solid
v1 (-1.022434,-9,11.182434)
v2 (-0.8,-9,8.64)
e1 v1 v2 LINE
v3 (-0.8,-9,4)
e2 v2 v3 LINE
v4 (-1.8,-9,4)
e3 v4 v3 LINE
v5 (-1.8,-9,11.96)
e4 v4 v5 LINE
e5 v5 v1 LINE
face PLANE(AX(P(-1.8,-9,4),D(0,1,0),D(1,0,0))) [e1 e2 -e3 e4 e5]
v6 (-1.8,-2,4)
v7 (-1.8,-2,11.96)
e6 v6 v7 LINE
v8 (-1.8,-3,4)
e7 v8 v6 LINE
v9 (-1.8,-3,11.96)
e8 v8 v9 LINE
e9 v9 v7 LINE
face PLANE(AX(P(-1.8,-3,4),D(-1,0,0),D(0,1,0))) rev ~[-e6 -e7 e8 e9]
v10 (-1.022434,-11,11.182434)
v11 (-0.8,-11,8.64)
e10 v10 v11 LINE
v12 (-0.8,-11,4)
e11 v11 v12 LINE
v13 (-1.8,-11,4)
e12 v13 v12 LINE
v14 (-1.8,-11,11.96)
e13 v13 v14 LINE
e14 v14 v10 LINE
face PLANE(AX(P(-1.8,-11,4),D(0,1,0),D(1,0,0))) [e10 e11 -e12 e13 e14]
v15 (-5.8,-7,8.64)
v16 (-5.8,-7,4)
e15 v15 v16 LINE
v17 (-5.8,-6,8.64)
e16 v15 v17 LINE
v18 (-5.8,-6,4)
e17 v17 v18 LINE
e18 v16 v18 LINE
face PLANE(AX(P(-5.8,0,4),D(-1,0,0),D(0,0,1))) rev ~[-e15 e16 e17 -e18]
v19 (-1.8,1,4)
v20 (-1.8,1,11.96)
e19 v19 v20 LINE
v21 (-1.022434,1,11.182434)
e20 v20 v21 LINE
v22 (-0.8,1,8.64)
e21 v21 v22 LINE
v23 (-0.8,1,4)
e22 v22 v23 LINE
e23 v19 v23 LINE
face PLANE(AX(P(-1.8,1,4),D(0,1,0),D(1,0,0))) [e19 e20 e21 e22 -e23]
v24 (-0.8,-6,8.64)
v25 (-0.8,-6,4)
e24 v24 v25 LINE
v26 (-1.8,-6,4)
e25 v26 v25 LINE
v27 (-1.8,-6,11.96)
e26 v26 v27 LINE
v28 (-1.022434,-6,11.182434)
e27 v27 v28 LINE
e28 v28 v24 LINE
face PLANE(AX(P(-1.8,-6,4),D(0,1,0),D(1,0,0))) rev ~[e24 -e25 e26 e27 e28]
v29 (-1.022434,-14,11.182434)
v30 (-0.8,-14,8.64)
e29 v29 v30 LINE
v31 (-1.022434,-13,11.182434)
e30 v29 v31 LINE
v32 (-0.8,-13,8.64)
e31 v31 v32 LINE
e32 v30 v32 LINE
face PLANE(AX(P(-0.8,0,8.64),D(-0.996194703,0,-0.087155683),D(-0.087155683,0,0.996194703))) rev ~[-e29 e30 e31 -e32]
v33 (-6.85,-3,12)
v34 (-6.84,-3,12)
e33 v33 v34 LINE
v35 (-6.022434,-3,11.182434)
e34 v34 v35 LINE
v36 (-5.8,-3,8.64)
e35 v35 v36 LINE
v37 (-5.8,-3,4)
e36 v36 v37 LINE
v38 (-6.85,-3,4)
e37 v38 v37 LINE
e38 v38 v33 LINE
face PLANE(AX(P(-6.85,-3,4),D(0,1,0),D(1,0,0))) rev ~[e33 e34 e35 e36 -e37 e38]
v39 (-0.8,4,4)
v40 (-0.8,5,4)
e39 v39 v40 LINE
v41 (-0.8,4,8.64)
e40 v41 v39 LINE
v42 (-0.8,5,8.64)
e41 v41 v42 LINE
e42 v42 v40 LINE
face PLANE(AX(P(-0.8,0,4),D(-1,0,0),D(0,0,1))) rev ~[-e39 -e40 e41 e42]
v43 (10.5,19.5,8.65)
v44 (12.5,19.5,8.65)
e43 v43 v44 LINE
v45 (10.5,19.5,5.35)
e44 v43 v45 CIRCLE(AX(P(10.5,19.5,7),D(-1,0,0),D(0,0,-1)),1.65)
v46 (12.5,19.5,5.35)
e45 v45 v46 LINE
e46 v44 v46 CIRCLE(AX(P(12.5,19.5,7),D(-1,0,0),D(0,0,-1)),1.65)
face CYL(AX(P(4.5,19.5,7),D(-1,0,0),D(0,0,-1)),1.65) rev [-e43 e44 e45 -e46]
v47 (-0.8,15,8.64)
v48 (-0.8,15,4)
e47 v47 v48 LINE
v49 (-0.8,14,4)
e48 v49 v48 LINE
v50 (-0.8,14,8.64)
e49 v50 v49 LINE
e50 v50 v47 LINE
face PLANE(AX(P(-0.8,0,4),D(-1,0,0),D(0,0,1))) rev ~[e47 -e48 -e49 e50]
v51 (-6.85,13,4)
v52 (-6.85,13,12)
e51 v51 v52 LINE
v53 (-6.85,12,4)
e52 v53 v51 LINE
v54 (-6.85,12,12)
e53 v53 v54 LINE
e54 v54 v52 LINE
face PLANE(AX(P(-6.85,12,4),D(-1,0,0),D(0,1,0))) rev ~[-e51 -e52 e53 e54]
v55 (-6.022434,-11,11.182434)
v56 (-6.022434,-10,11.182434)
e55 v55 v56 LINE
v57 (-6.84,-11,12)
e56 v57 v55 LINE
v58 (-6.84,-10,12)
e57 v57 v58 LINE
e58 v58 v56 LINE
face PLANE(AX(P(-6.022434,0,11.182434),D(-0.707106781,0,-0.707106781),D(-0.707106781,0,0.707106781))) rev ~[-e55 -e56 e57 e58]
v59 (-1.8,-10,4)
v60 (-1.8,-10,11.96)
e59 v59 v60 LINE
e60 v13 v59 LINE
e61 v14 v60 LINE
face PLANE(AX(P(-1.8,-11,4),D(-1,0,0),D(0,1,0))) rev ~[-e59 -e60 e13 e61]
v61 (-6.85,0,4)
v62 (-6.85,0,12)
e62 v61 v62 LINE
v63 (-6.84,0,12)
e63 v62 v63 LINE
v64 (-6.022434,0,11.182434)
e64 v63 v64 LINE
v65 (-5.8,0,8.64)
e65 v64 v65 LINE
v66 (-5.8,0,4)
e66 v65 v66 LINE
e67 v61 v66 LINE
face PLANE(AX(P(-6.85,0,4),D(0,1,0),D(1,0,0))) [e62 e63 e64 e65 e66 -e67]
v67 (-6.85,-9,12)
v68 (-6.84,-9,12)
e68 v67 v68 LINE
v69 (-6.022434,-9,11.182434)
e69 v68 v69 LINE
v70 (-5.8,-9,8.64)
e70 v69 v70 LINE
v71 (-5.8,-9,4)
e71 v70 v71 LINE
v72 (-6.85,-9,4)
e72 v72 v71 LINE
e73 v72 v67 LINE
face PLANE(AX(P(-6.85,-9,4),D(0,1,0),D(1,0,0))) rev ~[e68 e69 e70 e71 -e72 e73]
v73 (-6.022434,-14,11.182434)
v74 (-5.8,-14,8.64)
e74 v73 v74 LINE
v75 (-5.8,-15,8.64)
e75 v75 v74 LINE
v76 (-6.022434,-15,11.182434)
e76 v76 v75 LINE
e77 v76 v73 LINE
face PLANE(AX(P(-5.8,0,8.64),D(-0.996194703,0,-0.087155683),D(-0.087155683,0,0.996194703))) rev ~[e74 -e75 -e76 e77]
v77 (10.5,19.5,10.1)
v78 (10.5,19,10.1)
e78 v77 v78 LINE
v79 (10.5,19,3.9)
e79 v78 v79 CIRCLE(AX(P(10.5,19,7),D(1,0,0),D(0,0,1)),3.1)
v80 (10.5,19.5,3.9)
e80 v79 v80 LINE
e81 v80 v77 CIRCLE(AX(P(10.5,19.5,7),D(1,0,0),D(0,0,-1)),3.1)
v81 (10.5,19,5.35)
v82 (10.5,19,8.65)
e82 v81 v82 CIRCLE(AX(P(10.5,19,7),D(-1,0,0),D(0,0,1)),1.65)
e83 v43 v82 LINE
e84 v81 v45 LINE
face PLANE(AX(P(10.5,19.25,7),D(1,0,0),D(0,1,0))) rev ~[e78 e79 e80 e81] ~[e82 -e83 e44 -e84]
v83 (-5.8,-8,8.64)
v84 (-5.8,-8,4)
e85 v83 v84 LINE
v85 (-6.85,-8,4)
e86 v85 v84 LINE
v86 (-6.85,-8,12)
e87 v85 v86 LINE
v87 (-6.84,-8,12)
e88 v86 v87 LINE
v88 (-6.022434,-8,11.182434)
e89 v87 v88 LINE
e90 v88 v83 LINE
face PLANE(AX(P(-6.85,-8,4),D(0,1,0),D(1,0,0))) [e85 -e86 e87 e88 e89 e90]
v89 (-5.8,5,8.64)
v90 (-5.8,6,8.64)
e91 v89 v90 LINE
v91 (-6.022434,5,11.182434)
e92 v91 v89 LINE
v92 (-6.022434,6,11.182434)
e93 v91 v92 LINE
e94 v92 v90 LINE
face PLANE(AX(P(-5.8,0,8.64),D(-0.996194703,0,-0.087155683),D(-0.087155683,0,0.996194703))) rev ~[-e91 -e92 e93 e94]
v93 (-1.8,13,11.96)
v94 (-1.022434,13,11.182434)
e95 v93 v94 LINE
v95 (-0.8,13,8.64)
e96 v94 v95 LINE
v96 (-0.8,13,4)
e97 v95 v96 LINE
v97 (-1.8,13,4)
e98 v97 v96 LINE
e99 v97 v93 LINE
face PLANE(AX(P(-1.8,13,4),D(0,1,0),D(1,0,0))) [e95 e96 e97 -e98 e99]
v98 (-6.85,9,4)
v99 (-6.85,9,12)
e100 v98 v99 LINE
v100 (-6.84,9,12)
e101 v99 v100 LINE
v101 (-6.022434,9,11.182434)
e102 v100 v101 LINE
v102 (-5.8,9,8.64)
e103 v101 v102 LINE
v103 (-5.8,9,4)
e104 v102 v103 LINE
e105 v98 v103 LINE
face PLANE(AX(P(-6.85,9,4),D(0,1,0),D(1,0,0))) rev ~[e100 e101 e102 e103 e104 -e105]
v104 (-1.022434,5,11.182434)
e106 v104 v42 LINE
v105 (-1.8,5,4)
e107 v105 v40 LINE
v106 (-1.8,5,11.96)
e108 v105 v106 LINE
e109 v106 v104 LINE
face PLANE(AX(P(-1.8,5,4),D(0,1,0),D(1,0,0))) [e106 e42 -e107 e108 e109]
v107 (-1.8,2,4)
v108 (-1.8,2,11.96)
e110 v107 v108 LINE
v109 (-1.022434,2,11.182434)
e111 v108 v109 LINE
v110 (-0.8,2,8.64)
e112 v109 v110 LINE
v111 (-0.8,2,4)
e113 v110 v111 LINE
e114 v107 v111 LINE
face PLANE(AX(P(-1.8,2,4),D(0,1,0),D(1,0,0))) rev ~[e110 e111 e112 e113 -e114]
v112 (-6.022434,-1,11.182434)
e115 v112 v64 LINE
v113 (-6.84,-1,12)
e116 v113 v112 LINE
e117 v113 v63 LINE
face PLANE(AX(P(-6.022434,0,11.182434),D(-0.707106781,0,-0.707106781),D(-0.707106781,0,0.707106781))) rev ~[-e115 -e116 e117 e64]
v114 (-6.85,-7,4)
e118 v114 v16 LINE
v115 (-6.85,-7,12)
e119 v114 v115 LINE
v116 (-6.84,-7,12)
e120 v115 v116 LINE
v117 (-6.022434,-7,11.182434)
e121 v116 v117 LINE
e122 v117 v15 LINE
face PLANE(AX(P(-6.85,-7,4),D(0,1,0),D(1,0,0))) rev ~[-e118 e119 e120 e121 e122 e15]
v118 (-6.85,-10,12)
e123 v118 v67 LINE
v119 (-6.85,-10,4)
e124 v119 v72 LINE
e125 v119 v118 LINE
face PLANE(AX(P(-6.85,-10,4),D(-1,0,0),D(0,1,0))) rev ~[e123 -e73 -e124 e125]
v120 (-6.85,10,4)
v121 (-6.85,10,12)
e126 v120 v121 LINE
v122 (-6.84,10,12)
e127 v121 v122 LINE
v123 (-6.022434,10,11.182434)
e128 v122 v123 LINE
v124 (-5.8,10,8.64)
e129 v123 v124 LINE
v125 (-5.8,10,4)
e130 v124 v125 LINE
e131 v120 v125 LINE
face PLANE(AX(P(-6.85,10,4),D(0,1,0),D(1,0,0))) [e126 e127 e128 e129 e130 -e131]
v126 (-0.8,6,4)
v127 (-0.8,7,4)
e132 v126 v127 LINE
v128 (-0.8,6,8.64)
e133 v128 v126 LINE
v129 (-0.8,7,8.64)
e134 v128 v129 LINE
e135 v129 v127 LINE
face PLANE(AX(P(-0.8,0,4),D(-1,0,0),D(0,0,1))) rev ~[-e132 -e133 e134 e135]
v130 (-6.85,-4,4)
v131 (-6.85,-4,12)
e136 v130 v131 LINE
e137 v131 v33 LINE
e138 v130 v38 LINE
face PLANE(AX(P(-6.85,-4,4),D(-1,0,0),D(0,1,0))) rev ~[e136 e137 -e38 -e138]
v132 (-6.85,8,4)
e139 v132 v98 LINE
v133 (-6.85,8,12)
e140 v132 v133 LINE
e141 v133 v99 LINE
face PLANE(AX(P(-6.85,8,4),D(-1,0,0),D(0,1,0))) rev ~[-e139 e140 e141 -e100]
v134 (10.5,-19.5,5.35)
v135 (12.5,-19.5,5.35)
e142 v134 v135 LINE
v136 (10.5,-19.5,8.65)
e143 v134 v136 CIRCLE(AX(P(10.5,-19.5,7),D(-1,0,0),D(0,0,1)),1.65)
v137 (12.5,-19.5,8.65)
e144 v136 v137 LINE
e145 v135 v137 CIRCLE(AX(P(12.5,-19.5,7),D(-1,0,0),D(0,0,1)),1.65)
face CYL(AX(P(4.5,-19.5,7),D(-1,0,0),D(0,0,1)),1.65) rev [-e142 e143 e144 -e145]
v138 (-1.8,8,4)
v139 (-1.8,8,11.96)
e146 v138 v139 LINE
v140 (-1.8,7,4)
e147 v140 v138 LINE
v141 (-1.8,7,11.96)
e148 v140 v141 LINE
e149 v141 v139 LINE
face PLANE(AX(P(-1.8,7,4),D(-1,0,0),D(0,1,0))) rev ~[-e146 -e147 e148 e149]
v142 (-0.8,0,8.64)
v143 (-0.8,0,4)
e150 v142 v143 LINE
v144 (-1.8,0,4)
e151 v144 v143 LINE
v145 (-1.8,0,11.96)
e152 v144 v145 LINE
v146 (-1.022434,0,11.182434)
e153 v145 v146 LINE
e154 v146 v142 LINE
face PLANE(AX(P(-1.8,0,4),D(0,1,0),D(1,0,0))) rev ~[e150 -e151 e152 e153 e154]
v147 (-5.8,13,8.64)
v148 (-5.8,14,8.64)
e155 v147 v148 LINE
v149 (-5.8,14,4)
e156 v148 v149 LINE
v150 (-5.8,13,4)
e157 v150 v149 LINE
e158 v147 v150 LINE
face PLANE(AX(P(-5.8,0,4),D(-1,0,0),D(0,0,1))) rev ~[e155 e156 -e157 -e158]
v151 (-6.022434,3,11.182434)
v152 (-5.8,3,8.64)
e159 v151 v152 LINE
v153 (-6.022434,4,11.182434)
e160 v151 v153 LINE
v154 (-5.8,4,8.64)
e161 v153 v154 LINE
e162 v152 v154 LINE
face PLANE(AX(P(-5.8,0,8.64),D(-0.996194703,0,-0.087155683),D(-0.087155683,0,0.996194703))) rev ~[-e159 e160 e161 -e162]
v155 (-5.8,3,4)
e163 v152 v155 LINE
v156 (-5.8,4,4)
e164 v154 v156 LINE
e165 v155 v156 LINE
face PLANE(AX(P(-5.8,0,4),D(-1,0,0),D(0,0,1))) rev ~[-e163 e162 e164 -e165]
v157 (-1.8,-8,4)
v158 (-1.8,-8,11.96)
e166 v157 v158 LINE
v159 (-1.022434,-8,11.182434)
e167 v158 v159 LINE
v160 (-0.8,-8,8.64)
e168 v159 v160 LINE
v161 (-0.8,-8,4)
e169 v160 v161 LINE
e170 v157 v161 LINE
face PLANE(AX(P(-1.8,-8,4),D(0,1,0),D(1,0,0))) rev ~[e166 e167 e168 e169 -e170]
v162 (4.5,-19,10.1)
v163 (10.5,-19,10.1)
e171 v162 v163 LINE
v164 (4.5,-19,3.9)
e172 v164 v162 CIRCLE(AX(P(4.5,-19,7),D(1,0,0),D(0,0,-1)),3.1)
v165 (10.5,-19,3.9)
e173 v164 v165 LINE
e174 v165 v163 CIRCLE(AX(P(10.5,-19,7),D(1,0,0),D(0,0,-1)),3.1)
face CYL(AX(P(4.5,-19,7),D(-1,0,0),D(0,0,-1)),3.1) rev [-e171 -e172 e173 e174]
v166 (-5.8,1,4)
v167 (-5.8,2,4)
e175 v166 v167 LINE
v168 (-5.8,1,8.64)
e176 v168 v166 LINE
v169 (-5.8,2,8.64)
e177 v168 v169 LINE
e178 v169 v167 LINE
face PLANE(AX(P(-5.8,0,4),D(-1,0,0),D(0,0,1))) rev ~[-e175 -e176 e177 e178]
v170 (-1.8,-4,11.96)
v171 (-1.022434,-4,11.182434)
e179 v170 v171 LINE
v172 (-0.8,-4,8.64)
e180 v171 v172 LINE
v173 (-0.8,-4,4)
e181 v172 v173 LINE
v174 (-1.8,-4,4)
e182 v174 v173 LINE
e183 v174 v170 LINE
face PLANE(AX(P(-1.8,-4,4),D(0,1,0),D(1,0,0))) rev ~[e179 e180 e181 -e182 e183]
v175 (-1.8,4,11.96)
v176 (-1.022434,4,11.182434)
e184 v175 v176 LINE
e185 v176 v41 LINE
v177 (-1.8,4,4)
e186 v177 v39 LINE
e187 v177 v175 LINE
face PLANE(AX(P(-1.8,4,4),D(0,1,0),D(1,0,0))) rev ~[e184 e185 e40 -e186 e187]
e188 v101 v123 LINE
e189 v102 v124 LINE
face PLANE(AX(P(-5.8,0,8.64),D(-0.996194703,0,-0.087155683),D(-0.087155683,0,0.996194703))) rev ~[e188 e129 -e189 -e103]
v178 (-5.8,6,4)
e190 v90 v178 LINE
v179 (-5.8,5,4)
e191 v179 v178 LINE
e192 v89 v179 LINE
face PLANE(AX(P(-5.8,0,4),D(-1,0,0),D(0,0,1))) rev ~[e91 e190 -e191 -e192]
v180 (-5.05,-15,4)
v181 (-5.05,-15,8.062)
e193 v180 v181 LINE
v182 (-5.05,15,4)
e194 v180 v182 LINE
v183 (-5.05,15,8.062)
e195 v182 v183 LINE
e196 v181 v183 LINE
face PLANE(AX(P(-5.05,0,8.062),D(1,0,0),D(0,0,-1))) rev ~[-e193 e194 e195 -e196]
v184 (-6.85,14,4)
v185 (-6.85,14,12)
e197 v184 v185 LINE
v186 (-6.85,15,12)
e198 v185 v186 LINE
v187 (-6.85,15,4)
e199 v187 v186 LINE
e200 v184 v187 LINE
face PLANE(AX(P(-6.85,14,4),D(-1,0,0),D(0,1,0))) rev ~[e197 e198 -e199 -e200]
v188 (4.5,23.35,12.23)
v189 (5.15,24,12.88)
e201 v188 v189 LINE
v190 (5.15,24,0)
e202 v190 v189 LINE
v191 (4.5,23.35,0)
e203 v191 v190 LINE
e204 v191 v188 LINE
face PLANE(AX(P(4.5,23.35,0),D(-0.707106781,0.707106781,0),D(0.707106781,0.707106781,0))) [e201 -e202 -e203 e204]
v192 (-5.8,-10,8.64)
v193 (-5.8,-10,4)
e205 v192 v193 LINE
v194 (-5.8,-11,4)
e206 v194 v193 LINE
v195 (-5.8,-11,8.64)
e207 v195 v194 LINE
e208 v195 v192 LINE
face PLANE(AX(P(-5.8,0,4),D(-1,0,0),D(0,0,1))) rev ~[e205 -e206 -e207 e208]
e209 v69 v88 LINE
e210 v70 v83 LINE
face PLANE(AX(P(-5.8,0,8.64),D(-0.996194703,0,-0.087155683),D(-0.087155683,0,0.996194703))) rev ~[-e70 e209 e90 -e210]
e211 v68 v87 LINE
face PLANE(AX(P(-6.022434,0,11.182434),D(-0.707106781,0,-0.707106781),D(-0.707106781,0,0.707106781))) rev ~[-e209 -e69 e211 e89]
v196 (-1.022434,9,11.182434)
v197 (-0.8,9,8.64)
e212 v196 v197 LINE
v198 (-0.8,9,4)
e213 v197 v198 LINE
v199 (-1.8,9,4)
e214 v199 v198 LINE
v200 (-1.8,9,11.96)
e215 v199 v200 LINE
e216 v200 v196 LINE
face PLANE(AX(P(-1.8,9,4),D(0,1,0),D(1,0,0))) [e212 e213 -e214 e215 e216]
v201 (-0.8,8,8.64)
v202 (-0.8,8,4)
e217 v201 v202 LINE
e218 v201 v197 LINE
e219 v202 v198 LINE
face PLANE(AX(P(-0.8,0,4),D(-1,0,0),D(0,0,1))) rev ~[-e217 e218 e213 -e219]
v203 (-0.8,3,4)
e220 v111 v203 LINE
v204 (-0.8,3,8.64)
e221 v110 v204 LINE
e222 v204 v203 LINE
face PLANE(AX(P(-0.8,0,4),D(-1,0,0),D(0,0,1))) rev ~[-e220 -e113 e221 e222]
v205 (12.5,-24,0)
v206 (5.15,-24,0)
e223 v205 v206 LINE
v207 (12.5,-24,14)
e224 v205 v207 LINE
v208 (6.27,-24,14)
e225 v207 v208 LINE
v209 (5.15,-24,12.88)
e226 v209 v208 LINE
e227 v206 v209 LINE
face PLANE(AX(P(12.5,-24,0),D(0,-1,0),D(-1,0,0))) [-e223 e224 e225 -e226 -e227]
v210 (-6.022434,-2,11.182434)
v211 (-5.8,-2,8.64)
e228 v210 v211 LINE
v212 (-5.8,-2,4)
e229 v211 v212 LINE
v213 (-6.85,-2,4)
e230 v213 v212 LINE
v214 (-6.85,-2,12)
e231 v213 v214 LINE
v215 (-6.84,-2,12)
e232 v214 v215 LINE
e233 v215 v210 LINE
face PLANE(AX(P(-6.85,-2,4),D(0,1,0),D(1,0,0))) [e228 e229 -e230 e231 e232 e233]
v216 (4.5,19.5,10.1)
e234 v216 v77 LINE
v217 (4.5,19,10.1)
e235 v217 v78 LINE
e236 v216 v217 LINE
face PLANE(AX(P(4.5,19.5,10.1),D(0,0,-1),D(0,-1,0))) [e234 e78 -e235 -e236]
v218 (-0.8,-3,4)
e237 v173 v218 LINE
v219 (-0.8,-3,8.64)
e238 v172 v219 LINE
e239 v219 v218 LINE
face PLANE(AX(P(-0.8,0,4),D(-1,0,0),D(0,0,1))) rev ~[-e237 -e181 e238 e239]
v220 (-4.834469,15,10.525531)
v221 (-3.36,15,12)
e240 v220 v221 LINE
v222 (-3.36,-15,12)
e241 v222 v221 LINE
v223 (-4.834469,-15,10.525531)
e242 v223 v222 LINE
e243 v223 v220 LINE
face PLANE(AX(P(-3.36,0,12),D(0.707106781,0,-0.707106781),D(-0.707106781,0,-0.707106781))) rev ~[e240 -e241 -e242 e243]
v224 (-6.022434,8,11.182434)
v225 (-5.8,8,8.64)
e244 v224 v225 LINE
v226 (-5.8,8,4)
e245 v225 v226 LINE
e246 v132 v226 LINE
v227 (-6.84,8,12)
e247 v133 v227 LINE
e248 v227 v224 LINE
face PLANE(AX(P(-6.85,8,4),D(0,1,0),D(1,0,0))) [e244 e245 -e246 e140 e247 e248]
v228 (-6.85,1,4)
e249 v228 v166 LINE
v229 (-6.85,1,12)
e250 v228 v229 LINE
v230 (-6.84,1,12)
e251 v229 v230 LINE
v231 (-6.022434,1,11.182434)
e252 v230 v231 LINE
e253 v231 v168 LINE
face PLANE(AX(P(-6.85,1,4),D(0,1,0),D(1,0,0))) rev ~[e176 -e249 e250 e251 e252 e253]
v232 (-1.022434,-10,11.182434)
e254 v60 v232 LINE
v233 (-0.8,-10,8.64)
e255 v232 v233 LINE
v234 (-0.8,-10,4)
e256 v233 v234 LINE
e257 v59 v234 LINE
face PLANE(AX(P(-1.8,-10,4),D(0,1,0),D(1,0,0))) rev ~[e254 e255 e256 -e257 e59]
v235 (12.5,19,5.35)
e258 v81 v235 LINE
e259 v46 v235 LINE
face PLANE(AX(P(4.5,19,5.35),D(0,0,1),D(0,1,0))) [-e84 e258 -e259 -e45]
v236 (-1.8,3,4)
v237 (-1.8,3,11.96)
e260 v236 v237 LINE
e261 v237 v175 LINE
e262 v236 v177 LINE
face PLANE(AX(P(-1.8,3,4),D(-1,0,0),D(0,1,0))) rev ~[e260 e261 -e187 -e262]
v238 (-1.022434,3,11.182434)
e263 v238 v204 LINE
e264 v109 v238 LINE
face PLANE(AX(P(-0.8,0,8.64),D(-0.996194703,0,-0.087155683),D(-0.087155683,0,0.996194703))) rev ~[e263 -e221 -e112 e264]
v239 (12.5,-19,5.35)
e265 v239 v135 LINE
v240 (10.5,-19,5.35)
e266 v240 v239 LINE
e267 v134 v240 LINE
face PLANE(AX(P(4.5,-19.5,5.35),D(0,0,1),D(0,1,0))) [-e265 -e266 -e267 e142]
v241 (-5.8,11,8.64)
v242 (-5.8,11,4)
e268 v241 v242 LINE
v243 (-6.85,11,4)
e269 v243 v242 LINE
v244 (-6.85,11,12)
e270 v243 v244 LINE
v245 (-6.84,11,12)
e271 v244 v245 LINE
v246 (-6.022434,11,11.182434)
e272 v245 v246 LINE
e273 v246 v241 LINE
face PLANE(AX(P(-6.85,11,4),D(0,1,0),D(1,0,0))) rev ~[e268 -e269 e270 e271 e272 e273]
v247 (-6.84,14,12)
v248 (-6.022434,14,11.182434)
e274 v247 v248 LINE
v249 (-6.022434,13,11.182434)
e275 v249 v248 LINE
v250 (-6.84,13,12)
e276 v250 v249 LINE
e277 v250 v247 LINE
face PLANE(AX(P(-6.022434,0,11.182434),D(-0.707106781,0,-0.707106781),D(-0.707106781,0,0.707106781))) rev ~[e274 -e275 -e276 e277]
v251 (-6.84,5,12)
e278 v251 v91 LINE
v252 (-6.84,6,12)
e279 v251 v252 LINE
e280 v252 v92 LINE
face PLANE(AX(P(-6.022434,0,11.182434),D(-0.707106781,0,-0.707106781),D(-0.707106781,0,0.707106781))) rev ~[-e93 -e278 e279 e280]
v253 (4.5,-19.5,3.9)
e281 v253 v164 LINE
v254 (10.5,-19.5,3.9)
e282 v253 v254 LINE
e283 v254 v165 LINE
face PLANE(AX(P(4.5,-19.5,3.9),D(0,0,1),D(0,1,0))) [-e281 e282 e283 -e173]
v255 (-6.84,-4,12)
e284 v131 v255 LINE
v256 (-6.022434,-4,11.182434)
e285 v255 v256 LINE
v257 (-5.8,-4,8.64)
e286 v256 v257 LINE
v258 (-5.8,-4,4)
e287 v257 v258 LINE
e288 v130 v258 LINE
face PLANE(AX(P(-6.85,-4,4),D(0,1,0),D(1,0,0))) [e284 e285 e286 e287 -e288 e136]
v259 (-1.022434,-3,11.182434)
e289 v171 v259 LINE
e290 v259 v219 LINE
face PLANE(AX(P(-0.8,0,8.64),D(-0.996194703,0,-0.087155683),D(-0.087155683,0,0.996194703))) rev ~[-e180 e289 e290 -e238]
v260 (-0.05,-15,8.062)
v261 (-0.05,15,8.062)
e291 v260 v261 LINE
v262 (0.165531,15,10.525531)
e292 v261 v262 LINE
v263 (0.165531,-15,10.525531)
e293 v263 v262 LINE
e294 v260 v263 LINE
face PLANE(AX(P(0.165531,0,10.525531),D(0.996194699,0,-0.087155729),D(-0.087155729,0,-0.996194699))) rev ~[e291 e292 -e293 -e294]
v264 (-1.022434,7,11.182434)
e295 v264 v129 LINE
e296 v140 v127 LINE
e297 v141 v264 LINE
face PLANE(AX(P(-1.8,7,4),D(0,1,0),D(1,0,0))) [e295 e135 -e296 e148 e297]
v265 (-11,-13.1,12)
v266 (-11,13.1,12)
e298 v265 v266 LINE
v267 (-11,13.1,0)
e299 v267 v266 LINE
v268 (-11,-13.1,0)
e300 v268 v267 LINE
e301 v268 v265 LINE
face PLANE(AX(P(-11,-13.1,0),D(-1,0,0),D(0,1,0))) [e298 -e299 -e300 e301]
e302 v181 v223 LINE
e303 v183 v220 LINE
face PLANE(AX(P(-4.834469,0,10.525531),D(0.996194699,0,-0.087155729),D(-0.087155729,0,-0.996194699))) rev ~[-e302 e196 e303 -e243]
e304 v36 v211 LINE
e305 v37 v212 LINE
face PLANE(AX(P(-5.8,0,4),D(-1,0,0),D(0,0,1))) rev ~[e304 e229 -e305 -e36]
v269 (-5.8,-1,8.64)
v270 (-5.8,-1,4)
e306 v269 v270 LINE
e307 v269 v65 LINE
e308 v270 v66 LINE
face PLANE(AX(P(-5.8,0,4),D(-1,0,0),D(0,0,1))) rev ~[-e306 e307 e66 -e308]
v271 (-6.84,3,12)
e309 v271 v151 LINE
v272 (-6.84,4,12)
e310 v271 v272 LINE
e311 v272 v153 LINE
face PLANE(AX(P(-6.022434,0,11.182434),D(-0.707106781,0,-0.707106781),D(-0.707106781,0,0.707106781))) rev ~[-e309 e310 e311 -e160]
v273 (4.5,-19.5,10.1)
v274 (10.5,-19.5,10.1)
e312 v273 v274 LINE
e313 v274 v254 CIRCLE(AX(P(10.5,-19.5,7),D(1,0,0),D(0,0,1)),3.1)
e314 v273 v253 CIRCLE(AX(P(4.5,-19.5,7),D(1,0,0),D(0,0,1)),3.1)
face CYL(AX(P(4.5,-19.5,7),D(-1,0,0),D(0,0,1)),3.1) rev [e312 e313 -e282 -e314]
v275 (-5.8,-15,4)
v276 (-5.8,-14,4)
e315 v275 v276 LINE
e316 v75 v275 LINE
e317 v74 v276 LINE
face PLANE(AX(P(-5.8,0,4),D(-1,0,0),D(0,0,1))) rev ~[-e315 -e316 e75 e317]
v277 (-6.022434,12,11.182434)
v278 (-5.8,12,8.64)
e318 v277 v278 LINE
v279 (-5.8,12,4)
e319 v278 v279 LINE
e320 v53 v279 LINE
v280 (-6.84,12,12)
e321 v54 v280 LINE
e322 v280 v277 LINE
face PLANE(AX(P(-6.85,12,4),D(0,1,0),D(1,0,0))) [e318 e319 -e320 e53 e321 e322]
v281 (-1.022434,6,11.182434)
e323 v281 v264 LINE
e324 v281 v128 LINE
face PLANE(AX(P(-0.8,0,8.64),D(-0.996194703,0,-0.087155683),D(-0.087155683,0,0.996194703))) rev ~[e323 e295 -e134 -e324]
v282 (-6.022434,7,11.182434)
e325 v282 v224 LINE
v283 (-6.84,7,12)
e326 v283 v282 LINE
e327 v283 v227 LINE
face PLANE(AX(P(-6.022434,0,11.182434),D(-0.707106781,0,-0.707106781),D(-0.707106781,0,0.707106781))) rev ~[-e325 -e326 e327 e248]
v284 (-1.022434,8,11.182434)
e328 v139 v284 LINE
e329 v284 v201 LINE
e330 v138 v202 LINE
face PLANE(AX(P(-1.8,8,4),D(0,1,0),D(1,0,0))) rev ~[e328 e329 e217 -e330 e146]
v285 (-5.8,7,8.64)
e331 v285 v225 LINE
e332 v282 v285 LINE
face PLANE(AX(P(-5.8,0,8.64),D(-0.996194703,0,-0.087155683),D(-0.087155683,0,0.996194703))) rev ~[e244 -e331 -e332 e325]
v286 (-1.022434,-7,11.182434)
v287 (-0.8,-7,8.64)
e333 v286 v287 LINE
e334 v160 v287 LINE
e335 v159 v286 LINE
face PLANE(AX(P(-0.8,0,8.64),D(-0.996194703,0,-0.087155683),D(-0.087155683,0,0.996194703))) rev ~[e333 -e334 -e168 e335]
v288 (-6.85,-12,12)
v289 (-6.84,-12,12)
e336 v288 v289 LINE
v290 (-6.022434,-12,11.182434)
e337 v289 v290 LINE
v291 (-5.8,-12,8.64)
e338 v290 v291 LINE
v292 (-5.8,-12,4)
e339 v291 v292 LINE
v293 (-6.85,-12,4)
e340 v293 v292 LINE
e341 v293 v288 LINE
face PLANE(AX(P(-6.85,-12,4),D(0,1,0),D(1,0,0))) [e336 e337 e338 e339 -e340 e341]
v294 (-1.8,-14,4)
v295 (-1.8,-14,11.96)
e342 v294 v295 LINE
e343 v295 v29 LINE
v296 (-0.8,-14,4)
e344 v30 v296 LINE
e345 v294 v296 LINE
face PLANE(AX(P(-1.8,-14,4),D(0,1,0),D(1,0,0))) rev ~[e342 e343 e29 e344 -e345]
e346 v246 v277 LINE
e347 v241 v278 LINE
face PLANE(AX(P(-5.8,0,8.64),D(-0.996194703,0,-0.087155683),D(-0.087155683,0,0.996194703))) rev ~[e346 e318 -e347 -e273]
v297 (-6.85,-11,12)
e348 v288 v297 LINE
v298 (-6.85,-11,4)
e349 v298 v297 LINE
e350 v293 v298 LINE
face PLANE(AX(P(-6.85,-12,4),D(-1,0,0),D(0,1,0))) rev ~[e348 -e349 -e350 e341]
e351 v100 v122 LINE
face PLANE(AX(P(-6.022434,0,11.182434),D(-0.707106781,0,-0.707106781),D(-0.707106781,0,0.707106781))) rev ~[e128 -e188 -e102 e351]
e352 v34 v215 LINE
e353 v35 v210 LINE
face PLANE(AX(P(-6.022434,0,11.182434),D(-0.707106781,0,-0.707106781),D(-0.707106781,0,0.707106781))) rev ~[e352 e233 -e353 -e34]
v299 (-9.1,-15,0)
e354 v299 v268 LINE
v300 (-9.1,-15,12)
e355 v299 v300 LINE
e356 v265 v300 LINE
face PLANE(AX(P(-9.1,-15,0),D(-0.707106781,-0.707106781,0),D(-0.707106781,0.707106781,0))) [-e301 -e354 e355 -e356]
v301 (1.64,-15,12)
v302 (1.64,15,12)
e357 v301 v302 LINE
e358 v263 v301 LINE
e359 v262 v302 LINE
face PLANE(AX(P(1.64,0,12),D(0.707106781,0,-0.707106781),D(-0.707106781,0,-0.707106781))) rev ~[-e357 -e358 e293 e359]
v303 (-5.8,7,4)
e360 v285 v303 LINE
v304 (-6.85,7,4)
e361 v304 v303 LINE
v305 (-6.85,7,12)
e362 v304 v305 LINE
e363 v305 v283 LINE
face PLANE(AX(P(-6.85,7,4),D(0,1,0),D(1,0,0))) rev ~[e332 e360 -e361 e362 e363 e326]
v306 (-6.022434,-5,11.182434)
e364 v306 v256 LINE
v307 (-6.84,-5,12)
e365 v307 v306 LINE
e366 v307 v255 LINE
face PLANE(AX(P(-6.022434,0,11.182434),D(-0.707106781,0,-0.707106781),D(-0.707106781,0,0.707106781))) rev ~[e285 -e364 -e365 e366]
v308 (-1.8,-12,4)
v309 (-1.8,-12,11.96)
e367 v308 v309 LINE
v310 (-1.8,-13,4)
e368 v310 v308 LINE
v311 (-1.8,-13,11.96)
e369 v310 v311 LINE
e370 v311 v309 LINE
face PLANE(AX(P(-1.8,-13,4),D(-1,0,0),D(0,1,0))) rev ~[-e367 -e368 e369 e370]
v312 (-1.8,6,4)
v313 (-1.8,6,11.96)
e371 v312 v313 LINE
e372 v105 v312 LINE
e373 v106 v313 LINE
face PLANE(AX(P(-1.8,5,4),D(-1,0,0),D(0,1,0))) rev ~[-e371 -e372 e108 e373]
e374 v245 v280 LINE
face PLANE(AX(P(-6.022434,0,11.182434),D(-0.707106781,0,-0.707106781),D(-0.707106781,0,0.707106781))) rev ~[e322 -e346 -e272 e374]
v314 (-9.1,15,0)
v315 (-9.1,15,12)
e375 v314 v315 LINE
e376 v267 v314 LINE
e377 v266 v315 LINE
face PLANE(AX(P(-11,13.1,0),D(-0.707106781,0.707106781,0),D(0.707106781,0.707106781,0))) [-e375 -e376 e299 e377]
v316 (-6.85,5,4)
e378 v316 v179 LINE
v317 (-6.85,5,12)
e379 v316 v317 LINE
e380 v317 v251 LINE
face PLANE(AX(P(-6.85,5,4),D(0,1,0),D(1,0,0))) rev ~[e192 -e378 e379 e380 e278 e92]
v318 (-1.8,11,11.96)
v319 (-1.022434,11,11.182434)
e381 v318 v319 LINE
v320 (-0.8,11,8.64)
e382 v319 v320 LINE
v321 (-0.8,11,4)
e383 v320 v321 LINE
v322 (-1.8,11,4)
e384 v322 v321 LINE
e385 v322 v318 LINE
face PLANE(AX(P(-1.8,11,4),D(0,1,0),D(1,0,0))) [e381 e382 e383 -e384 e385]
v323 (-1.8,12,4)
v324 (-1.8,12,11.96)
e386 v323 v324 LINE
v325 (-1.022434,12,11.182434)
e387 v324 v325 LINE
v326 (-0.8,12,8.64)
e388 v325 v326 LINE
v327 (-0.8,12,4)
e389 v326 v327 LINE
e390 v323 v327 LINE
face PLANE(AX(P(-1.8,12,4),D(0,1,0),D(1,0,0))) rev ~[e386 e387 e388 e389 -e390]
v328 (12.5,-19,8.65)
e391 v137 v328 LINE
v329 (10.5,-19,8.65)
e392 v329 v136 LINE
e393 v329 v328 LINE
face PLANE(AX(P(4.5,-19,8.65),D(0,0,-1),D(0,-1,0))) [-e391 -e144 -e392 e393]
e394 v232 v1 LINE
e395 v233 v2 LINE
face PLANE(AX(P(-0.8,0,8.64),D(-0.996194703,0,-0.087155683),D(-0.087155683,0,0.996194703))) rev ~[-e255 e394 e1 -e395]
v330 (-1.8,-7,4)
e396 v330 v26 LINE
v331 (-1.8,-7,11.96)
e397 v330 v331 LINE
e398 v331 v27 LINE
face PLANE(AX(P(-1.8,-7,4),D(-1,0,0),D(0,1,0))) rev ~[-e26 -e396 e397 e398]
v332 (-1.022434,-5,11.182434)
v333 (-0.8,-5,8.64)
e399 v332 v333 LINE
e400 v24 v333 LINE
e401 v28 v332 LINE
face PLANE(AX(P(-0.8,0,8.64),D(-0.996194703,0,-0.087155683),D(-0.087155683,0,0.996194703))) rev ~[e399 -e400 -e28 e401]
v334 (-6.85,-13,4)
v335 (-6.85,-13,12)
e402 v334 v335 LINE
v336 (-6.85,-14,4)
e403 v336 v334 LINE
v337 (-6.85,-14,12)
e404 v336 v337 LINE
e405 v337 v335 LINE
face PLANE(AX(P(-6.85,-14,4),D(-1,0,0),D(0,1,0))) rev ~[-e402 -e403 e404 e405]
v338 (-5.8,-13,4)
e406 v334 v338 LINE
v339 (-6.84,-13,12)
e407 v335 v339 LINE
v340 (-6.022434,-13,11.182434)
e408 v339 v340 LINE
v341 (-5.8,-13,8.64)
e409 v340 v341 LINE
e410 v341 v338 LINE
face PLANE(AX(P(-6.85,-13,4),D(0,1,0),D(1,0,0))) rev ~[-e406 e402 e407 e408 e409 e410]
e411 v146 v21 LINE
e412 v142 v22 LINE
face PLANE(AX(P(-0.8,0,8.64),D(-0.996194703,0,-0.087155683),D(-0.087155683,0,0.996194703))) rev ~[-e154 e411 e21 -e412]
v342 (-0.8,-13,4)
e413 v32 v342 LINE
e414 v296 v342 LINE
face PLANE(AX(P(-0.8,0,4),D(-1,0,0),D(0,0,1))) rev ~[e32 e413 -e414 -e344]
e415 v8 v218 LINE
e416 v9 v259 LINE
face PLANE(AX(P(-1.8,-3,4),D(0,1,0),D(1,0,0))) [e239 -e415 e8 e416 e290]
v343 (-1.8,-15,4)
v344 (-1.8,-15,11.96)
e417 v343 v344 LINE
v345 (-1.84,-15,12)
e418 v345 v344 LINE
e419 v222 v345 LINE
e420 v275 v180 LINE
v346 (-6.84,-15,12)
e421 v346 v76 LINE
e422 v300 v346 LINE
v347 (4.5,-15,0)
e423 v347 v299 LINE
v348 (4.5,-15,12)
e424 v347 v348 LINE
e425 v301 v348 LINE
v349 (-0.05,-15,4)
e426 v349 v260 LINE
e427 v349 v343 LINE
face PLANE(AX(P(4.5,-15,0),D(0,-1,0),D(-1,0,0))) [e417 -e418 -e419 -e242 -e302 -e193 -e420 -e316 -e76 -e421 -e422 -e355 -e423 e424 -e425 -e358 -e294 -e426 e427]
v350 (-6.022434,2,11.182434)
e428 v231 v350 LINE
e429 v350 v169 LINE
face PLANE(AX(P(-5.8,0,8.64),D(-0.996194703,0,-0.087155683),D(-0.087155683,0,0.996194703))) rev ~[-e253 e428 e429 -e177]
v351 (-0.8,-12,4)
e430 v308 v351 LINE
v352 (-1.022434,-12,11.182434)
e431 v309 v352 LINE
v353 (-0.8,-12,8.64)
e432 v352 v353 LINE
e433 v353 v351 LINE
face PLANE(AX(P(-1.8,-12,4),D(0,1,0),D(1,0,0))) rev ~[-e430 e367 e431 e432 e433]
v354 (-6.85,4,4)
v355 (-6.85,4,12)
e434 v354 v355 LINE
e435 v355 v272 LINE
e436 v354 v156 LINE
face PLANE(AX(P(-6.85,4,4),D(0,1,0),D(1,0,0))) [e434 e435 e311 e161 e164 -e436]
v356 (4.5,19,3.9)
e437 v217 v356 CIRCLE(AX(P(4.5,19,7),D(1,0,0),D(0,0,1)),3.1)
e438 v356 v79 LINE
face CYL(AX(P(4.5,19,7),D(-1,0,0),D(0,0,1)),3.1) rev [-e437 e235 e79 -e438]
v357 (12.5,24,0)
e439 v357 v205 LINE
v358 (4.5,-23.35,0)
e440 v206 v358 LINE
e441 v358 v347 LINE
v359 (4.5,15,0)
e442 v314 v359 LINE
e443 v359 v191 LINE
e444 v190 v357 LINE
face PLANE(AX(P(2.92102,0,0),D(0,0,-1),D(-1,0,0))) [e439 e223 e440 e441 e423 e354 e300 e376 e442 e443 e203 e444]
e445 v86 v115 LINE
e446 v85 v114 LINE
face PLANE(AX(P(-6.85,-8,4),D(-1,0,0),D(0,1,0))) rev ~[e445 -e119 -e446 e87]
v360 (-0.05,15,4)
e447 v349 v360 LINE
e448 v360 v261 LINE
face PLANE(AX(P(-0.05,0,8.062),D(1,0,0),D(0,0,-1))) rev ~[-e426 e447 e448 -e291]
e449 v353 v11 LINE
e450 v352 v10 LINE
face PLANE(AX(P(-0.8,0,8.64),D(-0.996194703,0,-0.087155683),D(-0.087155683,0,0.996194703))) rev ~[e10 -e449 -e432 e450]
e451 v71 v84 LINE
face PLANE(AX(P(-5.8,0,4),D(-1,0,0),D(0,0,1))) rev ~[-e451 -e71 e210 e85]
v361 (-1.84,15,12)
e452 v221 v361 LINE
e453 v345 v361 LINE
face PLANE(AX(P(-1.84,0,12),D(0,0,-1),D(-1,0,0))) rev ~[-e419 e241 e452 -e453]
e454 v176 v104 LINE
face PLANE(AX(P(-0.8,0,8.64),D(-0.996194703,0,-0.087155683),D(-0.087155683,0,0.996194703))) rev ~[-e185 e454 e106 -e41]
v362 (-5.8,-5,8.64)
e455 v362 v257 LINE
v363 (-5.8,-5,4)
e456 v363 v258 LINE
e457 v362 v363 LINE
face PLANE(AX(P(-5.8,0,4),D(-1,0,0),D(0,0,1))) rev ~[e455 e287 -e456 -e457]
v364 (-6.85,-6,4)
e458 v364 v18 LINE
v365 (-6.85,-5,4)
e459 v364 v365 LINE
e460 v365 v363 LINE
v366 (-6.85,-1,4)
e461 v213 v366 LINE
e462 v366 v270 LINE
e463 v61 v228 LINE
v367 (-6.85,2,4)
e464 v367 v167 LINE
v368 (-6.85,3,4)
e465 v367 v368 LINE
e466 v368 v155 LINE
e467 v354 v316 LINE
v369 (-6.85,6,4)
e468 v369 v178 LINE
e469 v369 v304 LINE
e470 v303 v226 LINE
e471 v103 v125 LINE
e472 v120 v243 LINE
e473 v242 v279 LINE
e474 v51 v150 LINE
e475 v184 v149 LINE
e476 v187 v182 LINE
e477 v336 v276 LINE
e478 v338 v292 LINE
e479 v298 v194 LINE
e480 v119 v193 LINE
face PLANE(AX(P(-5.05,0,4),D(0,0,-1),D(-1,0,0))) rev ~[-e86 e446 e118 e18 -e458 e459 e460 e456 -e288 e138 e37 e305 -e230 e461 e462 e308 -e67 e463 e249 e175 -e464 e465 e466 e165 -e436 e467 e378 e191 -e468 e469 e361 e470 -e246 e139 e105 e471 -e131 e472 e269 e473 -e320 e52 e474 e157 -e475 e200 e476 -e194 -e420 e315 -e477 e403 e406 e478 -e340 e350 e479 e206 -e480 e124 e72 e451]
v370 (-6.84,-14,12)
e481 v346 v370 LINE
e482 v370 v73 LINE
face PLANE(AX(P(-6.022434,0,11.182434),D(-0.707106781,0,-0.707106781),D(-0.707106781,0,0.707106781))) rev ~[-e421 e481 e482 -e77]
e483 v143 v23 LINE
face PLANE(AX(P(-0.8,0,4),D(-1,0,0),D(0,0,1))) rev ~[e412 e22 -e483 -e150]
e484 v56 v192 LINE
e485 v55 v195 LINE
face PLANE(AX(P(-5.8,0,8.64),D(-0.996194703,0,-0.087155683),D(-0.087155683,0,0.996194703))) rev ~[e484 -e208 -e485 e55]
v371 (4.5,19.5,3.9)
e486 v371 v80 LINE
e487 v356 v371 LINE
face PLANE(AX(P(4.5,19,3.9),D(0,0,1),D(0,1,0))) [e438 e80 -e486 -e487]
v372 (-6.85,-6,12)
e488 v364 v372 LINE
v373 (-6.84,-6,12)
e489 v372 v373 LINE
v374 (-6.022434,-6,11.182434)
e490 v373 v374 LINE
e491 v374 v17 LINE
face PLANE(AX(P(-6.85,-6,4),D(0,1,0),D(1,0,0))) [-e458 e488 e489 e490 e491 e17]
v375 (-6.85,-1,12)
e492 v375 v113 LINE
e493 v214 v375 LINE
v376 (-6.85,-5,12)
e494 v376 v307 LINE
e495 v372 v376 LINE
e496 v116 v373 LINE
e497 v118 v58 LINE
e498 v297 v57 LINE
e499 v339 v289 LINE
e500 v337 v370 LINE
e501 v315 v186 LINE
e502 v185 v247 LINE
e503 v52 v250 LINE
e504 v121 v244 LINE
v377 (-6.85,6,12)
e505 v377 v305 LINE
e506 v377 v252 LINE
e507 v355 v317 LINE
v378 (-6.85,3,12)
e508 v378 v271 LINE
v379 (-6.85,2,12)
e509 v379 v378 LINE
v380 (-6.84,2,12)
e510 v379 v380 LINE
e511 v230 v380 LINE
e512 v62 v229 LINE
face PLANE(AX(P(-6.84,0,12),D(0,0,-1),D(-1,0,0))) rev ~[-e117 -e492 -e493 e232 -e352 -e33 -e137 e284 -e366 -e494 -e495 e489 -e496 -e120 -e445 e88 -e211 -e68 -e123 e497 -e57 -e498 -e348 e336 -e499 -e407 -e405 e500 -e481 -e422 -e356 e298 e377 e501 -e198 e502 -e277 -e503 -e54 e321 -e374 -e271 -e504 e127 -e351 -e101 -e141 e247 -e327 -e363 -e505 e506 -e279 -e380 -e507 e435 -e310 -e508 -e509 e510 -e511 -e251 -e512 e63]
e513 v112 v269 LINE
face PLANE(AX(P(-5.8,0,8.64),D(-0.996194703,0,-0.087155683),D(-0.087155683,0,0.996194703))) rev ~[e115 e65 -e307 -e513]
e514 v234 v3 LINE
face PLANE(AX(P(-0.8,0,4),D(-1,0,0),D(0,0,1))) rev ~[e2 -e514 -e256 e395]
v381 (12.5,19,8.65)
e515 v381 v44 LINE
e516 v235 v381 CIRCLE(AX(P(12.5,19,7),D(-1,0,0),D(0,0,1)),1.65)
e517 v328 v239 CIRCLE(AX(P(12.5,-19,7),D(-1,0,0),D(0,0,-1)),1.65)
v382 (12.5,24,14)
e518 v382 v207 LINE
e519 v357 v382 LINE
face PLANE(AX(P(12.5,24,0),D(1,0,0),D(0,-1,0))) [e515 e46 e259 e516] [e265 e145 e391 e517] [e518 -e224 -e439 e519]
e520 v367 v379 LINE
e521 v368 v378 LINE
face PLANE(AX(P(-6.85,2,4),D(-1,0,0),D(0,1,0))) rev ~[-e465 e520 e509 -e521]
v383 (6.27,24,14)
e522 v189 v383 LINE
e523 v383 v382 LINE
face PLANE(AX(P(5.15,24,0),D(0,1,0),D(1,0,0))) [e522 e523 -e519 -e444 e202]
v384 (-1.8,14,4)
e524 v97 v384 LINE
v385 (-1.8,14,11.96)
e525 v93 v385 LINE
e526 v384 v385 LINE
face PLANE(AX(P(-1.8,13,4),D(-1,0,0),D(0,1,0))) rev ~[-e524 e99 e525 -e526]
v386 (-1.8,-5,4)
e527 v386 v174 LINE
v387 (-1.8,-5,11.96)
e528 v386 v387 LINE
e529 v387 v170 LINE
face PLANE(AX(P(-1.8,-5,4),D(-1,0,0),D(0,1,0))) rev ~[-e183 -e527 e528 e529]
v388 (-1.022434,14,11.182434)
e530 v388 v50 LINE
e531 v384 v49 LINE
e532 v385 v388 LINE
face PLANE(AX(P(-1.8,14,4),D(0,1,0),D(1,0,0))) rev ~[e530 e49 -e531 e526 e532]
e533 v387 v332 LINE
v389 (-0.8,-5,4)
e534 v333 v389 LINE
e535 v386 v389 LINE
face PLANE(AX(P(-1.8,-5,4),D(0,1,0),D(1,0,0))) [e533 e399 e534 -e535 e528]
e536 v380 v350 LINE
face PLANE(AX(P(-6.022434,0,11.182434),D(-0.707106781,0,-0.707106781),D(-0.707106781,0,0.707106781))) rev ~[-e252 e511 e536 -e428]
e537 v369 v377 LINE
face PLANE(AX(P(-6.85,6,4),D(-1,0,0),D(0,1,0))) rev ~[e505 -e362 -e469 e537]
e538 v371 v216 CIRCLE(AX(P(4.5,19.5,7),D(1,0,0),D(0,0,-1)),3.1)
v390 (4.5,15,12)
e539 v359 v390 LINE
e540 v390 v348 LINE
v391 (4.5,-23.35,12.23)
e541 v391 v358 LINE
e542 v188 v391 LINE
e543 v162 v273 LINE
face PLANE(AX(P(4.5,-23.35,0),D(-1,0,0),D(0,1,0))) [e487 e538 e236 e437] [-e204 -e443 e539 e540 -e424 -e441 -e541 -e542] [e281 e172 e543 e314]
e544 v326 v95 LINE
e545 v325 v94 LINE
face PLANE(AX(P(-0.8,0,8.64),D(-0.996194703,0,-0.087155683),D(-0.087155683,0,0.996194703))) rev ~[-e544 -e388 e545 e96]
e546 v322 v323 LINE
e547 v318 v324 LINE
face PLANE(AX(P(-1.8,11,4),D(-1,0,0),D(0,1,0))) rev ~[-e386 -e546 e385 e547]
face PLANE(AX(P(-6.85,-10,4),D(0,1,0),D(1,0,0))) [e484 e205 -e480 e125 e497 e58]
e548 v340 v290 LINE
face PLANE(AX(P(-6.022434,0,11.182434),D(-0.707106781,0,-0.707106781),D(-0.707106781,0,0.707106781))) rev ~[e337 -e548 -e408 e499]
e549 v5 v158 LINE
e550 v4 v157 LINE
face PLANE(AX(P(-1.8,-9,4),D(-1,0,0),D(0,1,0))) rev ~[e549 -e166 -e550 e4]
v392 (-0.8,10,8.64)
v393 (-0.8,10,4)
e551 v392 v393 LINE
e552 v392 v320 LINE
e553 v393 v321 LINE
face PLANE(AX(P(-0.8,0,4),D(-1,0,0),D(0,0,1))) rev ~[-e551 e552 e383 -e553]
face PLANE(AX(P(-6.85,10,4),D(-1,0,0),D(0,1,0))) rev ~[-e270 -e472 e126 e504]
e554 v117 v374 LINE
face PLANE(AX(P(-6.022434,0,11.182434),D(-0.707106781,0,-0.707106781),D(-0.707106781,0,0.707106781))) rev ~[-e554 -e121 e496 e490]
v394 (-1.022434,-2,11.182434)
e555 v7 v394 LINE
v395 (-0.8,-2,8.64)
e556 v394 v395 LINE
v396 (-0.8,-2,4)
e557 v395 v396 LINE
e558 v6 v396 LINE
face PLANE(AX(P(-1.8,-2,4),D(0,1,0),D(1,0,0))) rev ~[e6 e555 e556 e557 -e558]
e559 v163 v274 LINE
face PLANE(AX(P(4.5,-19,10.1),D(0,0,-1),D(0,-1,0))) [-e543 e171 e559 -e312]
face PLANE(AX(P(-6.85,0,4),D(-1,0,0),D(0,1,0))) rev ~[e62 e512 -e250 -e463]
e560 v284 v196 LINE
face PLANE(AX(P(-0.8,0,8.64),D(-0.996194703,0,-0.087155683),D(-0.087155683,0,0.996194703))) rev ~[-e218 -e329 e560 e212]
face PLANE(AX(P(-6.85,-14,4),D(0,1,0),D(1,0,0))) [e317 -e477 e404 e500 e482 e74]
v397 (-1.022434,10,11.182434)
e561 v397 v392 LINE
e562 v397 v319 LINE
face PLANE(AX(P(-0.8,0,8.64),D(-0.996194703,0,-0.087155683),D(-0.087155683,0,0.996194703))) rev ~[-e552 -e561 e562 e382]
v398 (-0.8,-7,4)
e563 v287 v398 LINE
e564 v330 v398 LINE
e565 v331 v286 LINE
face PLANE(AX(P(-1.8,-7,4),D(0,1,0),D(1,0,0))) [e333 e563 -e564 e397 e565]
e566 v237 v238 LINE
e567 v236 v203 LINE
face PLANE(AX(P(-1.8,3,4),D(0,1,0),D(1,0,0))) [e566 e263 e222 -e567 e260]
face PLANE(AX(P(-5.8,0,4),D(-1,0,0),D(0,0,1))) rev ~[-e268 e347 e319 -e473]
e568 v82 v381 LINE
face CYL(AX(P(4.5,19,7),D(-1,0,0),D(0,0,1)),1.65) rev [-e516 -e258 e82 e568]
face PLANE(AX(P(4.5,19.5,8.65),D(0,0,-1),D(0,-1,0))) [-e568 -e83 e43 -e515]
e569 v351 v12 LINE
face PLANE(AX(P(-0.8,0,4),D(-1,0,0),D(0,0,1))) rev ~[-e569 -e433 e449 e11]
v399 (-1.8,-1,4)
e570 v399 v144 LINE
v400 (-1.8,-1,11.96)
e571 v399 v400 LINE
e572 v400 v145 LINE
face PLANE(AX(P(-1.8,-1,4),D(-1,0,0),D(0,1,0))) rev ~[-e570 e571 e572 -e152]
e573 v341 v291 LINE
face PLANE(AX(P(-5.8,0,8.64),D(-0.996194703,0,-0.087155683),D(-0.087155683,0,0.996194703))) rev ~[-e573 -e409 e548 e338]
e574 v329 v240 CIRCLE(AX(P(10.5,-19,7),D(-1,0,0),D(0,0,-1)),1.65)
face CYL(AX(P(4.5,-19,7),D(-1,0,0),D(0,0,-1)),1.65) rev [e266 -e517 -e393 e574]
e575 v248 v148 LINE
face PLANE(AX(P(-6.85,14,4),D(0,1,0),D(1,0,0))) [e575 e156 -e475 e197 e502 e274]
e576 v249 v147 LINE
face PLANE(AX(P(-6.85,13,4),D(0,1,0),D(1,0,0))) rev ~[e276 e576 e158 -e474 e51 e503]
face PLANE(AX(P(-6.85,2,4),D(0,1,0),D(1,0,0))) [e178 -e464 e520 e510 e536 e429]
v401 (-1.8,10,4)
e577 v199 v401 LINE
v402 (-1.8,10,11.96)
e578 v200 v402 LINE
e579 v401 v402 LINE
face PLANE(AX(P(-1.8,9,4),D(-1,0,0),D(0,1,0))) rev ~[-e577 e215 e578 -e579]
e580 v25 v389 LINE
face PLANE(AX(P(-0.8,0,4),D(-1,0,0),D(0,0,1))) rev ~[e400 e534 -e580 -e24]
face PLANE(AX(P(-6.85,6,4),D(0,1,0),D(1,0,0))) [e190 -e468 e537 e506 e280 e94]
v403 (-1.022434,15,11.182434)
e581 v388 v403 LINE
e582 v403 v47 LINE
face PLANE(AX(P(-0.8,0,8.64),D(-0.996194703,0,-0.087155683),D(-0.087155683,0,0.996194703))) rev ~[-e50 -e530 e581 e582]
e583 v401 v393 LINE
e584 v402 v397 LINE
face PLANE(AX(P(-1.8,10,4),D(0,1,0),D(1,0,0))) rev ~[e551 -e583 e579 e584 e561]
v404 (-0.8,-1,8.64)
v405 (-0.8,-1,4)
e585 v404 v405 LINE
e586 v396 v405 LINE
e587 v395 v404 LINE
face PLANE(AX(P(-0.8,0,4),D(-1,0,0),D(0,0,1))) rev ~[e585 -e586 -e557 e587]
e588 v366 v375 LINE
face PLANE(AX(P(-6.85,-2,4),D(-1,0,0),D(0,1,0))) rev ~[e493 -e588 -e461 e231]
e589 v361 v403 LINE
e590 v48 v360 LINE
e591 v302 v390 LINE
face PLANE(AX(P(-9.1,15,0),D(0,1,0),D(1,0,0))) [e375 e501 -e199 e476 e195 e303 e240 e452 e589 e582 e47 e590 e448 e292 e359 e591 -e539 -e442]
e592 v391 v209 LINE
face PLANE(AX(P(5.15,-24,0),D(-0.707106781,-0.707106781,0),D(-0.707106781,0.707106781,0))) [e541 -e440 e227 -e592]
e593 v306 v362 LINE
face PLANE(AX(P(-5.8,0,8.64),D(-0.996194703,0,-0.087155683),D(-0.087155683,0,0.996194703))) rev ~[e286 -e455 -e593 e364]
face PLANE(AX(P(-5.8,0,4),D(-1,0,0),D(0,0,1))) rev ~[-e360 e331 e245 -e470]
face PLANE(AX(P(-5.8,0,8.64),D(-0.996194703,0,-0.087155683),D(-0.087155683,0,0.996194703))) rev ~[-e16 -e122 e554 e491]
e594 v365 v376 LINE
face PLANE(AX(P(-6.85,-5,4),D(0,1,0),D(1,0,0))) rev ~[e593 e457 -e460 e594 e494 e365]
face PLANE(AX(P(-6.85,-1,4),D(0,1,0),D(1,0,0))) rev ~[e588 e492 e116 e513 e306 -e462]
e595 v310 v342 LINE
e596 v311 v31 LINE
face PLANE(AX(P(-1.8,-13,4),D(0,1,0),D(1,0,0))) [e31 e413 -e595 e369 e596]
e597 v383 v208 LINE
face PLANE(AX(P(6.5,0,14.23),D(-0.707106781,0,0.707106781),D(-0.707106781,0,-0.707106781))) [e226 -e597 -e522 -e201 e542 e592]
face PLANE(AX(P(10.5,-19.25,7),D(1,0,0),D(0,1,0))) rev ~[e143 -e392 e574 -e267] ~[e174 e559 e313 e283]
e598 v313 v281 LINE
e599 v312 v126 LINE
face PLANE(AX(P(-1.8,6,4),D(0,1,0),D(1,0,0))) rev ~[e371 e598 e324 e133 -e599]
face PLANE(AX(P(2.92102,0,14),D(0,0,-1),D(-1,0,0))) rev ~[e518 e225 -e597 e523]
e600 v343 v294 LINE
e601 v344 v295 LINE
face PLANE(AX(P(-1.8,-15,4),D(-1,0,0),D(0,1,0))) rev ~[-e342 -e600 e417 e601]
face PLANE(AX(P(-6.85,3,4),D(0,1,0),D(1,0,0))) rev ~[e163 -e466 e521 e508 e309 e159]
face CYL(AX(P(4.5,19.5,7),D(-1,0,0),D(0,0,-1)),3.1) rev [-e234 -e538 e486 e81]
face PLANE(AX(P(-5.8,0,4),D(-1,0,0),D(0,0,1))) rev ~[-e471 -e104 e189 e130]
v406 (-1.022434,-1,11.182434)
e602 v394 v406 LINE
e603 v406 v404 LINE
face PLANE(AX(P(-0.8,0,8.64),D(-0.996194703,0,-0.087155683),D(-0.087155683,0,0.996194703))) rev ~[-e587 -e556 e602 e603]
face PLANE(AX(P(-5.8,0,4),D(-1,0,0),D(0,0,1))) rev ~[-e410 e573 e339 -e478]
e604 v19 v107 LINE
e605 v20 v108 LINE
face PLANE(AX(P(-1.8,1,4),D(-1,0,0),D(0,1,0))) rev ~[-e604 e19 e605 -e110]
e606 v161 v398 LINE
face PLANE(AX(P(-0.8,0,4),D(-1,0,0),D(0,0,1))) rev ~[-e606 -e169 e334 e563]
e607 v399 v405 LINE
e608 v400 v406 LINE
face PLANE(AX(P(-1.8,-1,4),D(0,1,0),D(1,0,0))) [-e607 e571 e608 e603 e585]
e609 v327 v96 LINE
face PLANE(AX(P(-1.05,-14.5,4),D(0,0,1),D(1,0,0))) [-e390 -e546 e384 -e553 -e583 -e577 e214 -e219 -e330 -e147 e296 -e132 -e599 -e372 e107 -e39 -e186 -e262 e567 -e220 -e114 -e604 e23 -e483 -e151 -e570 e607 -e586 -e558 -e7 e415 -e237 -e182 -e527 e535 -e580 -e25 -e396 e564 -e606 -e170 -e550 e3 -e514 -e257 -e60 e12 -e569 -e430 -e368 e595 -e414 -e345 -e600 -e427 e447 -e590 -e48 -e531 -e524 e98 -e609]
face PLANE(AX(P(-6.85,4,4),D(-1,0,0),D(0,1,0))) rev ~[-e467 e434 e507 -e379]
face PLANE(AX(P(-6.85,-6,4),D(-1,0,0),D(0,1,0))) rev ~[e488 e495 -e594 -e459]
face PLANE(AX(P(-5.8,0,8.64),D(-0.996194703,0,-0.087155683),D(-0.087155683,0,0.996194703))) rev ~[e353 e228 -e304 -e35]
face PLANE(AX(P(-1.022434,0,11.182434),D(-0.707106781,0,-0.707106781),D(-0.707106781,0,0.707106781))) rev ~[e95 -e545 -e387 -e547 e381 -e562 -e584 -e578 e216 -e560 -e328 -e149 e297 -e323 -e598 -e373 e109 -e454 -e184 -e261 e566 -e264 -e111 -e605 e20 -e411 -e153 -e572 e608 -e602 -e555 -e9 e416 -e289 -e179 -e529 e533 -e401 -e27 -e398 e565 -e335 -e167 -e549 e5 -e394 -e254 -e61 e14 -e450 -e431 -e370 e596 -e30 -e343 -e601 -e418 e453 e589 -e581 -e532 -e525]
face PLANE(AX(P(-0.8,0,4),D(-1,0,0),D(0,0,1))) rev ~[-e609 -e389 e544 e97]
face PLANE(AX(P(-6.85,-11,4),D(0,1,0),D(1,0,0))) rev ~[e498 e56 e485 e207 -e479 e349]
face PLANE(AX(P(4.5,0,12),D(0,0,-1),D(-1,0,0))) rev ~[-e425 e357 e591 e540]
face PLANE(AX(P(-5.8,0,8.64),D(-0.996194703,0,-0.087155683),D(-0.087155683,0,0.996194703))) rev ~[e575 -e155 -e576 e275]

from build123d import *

# Parameters (mm, degrees)
PAD_DEPTH           = 14
POCKET_DEPTH        = 24.001
POCKET_DEPTH_BACK   = -24.001
SKETCH002_W         = 1.5
SKETCH002_H         = 1
POCKET001_DEPTH     = 10.001
LINEARPATTERN_COUNT = 15
LINEARPATTERN_PITCH = 2
POCKET002_DEPTH     = 8.001
POCKET003_DEPTH     = 6


with BuildPart() as part:
    # Sketch → Pad (new body)
    with BuildSketch(Plane.XY):
        Polygon((12.5, 24), (12.5, -24), (5.15, -24), (4.5, -23.35), (4.5, -15), (-9.1, -15), (-11, -13.1), (-11, 13.1), (-9.1, 15), (4.5, 15), (4.5, 23.35), (5.15, 24), align=None)
    extrude(amount=PAD_DEPTH)

    # Sketch001 → Pocket (cut, two sides)
    with BuildSketch(Plane.XZ) as pocket_sk:
        Polygon((6.5, 15), (6.5, 14.23), (4.5, 12.23), (4.5, 12), (1.64, 12), (0.165531, 10.525531), (-0.05, 8.062), (-0.05, 4), (-0.8, 4), (-0.8, 8.64), (-1.022434, 11.182434), (-1.84, 12), (-3.36, 12), (-4.834469, 10.525531), (-5.05, 8.062), (-5.05, 4), (-5.8, 4), (-5.8, 8.64), (-6.022434, 11.182434), (-6.84, 12), (-12, 12), (-12, 15), align=None)
    extrude(amount=-POCKET_DEPTH, mode=Mode.SUBTRACT)
    extrude(pocket_sk.sketch, amount=-POCKET_DEPTH_BACK, mode=Mode.SUBTRACT)

    # Sketch002 → Pocket001 (cut, through all)
    with BuildSketch(Plane.XY.offset(4)):
        with Locations((-6.1, 14.5)):
            Rectangle(SKETCH002_W, SKETCH002_H)
        with Locations((-1.05, 13.5)):
            Rectangle(SKETCH002_W, SKETCH002_H)
    pocket001 = extrude(amount=POCKET001_DEPTH, mode=Mode.SUBTRACT)

    # LinearPattern: Pocket001 ×15
    with Locations(*[(0, -i * LINEARPATTERN_PITCH, 0) for i in range(1, LINEARPATTERN_COUNT)]):
        add(pocket001, mode=Mode.SUBTRACT)

    # Sketch003 → Pocket002 (cut, through all)
    with BuildSketch(Plane.YZ.offset(4.5)):
        with BuildLine():
            ThreePointArc((-19.5, 8.65), (-21.15, 7), (-19.5, 5.35))
            Line((-19.5, 5.35), (-19, 5.35))
            ThreePointArc((-19, 5.35), (-17.35, 7), (-19, 8.65))
            Line((-19, 8.65), (-19.5, 8.65))
        make_face()
        with BuildLine():
            ThreePointArc((19, 8.65), (17.35, 7), (19, 5.35))
            Line((19, 5.35), (19.5, 5.35))
            ThreePointArc((19.5, 5.35), (21.15, 7), (19.5, 8.65))
            Line((19.5, 8.65), (19, 8.65))
        make_face()
    extrude(amount=POCKET002_DEPTH, mode=Mode.SUBTRACT)

    # Sketch004 → Pocket003 (cut)
    with BuildSketch(Plane.YZ.offset(4.5)):
        with BuildLine():
            ThreePointArc((-19.5, 10.1), (-22.6, 7), (-19.5, 3.9))
            Line((-19.5, 3.9), (-19, 3.9))
            ThreePointArc((-19, 3.9), (-15.9, 7), (-19, 10.1))
            Line((-19, 10.1), (-19.5, 10.1))
        make_face()
        with BuildLine():
            ThreePointArc((19, 10.1), (15.9, 7), (19, 3.9))
            Line((19, 3.9), (19.5, 3.9))
            ThreePointArc((19.5, 3.9), (22.6, 7), (19.5, 10.1))
            Line((19.5, 10.1), (19, 10.1))
        make_face()
    extrude(amount=POCKET003_DEPTH, mode=Mode.SUBTRACT)


solid = part.part
